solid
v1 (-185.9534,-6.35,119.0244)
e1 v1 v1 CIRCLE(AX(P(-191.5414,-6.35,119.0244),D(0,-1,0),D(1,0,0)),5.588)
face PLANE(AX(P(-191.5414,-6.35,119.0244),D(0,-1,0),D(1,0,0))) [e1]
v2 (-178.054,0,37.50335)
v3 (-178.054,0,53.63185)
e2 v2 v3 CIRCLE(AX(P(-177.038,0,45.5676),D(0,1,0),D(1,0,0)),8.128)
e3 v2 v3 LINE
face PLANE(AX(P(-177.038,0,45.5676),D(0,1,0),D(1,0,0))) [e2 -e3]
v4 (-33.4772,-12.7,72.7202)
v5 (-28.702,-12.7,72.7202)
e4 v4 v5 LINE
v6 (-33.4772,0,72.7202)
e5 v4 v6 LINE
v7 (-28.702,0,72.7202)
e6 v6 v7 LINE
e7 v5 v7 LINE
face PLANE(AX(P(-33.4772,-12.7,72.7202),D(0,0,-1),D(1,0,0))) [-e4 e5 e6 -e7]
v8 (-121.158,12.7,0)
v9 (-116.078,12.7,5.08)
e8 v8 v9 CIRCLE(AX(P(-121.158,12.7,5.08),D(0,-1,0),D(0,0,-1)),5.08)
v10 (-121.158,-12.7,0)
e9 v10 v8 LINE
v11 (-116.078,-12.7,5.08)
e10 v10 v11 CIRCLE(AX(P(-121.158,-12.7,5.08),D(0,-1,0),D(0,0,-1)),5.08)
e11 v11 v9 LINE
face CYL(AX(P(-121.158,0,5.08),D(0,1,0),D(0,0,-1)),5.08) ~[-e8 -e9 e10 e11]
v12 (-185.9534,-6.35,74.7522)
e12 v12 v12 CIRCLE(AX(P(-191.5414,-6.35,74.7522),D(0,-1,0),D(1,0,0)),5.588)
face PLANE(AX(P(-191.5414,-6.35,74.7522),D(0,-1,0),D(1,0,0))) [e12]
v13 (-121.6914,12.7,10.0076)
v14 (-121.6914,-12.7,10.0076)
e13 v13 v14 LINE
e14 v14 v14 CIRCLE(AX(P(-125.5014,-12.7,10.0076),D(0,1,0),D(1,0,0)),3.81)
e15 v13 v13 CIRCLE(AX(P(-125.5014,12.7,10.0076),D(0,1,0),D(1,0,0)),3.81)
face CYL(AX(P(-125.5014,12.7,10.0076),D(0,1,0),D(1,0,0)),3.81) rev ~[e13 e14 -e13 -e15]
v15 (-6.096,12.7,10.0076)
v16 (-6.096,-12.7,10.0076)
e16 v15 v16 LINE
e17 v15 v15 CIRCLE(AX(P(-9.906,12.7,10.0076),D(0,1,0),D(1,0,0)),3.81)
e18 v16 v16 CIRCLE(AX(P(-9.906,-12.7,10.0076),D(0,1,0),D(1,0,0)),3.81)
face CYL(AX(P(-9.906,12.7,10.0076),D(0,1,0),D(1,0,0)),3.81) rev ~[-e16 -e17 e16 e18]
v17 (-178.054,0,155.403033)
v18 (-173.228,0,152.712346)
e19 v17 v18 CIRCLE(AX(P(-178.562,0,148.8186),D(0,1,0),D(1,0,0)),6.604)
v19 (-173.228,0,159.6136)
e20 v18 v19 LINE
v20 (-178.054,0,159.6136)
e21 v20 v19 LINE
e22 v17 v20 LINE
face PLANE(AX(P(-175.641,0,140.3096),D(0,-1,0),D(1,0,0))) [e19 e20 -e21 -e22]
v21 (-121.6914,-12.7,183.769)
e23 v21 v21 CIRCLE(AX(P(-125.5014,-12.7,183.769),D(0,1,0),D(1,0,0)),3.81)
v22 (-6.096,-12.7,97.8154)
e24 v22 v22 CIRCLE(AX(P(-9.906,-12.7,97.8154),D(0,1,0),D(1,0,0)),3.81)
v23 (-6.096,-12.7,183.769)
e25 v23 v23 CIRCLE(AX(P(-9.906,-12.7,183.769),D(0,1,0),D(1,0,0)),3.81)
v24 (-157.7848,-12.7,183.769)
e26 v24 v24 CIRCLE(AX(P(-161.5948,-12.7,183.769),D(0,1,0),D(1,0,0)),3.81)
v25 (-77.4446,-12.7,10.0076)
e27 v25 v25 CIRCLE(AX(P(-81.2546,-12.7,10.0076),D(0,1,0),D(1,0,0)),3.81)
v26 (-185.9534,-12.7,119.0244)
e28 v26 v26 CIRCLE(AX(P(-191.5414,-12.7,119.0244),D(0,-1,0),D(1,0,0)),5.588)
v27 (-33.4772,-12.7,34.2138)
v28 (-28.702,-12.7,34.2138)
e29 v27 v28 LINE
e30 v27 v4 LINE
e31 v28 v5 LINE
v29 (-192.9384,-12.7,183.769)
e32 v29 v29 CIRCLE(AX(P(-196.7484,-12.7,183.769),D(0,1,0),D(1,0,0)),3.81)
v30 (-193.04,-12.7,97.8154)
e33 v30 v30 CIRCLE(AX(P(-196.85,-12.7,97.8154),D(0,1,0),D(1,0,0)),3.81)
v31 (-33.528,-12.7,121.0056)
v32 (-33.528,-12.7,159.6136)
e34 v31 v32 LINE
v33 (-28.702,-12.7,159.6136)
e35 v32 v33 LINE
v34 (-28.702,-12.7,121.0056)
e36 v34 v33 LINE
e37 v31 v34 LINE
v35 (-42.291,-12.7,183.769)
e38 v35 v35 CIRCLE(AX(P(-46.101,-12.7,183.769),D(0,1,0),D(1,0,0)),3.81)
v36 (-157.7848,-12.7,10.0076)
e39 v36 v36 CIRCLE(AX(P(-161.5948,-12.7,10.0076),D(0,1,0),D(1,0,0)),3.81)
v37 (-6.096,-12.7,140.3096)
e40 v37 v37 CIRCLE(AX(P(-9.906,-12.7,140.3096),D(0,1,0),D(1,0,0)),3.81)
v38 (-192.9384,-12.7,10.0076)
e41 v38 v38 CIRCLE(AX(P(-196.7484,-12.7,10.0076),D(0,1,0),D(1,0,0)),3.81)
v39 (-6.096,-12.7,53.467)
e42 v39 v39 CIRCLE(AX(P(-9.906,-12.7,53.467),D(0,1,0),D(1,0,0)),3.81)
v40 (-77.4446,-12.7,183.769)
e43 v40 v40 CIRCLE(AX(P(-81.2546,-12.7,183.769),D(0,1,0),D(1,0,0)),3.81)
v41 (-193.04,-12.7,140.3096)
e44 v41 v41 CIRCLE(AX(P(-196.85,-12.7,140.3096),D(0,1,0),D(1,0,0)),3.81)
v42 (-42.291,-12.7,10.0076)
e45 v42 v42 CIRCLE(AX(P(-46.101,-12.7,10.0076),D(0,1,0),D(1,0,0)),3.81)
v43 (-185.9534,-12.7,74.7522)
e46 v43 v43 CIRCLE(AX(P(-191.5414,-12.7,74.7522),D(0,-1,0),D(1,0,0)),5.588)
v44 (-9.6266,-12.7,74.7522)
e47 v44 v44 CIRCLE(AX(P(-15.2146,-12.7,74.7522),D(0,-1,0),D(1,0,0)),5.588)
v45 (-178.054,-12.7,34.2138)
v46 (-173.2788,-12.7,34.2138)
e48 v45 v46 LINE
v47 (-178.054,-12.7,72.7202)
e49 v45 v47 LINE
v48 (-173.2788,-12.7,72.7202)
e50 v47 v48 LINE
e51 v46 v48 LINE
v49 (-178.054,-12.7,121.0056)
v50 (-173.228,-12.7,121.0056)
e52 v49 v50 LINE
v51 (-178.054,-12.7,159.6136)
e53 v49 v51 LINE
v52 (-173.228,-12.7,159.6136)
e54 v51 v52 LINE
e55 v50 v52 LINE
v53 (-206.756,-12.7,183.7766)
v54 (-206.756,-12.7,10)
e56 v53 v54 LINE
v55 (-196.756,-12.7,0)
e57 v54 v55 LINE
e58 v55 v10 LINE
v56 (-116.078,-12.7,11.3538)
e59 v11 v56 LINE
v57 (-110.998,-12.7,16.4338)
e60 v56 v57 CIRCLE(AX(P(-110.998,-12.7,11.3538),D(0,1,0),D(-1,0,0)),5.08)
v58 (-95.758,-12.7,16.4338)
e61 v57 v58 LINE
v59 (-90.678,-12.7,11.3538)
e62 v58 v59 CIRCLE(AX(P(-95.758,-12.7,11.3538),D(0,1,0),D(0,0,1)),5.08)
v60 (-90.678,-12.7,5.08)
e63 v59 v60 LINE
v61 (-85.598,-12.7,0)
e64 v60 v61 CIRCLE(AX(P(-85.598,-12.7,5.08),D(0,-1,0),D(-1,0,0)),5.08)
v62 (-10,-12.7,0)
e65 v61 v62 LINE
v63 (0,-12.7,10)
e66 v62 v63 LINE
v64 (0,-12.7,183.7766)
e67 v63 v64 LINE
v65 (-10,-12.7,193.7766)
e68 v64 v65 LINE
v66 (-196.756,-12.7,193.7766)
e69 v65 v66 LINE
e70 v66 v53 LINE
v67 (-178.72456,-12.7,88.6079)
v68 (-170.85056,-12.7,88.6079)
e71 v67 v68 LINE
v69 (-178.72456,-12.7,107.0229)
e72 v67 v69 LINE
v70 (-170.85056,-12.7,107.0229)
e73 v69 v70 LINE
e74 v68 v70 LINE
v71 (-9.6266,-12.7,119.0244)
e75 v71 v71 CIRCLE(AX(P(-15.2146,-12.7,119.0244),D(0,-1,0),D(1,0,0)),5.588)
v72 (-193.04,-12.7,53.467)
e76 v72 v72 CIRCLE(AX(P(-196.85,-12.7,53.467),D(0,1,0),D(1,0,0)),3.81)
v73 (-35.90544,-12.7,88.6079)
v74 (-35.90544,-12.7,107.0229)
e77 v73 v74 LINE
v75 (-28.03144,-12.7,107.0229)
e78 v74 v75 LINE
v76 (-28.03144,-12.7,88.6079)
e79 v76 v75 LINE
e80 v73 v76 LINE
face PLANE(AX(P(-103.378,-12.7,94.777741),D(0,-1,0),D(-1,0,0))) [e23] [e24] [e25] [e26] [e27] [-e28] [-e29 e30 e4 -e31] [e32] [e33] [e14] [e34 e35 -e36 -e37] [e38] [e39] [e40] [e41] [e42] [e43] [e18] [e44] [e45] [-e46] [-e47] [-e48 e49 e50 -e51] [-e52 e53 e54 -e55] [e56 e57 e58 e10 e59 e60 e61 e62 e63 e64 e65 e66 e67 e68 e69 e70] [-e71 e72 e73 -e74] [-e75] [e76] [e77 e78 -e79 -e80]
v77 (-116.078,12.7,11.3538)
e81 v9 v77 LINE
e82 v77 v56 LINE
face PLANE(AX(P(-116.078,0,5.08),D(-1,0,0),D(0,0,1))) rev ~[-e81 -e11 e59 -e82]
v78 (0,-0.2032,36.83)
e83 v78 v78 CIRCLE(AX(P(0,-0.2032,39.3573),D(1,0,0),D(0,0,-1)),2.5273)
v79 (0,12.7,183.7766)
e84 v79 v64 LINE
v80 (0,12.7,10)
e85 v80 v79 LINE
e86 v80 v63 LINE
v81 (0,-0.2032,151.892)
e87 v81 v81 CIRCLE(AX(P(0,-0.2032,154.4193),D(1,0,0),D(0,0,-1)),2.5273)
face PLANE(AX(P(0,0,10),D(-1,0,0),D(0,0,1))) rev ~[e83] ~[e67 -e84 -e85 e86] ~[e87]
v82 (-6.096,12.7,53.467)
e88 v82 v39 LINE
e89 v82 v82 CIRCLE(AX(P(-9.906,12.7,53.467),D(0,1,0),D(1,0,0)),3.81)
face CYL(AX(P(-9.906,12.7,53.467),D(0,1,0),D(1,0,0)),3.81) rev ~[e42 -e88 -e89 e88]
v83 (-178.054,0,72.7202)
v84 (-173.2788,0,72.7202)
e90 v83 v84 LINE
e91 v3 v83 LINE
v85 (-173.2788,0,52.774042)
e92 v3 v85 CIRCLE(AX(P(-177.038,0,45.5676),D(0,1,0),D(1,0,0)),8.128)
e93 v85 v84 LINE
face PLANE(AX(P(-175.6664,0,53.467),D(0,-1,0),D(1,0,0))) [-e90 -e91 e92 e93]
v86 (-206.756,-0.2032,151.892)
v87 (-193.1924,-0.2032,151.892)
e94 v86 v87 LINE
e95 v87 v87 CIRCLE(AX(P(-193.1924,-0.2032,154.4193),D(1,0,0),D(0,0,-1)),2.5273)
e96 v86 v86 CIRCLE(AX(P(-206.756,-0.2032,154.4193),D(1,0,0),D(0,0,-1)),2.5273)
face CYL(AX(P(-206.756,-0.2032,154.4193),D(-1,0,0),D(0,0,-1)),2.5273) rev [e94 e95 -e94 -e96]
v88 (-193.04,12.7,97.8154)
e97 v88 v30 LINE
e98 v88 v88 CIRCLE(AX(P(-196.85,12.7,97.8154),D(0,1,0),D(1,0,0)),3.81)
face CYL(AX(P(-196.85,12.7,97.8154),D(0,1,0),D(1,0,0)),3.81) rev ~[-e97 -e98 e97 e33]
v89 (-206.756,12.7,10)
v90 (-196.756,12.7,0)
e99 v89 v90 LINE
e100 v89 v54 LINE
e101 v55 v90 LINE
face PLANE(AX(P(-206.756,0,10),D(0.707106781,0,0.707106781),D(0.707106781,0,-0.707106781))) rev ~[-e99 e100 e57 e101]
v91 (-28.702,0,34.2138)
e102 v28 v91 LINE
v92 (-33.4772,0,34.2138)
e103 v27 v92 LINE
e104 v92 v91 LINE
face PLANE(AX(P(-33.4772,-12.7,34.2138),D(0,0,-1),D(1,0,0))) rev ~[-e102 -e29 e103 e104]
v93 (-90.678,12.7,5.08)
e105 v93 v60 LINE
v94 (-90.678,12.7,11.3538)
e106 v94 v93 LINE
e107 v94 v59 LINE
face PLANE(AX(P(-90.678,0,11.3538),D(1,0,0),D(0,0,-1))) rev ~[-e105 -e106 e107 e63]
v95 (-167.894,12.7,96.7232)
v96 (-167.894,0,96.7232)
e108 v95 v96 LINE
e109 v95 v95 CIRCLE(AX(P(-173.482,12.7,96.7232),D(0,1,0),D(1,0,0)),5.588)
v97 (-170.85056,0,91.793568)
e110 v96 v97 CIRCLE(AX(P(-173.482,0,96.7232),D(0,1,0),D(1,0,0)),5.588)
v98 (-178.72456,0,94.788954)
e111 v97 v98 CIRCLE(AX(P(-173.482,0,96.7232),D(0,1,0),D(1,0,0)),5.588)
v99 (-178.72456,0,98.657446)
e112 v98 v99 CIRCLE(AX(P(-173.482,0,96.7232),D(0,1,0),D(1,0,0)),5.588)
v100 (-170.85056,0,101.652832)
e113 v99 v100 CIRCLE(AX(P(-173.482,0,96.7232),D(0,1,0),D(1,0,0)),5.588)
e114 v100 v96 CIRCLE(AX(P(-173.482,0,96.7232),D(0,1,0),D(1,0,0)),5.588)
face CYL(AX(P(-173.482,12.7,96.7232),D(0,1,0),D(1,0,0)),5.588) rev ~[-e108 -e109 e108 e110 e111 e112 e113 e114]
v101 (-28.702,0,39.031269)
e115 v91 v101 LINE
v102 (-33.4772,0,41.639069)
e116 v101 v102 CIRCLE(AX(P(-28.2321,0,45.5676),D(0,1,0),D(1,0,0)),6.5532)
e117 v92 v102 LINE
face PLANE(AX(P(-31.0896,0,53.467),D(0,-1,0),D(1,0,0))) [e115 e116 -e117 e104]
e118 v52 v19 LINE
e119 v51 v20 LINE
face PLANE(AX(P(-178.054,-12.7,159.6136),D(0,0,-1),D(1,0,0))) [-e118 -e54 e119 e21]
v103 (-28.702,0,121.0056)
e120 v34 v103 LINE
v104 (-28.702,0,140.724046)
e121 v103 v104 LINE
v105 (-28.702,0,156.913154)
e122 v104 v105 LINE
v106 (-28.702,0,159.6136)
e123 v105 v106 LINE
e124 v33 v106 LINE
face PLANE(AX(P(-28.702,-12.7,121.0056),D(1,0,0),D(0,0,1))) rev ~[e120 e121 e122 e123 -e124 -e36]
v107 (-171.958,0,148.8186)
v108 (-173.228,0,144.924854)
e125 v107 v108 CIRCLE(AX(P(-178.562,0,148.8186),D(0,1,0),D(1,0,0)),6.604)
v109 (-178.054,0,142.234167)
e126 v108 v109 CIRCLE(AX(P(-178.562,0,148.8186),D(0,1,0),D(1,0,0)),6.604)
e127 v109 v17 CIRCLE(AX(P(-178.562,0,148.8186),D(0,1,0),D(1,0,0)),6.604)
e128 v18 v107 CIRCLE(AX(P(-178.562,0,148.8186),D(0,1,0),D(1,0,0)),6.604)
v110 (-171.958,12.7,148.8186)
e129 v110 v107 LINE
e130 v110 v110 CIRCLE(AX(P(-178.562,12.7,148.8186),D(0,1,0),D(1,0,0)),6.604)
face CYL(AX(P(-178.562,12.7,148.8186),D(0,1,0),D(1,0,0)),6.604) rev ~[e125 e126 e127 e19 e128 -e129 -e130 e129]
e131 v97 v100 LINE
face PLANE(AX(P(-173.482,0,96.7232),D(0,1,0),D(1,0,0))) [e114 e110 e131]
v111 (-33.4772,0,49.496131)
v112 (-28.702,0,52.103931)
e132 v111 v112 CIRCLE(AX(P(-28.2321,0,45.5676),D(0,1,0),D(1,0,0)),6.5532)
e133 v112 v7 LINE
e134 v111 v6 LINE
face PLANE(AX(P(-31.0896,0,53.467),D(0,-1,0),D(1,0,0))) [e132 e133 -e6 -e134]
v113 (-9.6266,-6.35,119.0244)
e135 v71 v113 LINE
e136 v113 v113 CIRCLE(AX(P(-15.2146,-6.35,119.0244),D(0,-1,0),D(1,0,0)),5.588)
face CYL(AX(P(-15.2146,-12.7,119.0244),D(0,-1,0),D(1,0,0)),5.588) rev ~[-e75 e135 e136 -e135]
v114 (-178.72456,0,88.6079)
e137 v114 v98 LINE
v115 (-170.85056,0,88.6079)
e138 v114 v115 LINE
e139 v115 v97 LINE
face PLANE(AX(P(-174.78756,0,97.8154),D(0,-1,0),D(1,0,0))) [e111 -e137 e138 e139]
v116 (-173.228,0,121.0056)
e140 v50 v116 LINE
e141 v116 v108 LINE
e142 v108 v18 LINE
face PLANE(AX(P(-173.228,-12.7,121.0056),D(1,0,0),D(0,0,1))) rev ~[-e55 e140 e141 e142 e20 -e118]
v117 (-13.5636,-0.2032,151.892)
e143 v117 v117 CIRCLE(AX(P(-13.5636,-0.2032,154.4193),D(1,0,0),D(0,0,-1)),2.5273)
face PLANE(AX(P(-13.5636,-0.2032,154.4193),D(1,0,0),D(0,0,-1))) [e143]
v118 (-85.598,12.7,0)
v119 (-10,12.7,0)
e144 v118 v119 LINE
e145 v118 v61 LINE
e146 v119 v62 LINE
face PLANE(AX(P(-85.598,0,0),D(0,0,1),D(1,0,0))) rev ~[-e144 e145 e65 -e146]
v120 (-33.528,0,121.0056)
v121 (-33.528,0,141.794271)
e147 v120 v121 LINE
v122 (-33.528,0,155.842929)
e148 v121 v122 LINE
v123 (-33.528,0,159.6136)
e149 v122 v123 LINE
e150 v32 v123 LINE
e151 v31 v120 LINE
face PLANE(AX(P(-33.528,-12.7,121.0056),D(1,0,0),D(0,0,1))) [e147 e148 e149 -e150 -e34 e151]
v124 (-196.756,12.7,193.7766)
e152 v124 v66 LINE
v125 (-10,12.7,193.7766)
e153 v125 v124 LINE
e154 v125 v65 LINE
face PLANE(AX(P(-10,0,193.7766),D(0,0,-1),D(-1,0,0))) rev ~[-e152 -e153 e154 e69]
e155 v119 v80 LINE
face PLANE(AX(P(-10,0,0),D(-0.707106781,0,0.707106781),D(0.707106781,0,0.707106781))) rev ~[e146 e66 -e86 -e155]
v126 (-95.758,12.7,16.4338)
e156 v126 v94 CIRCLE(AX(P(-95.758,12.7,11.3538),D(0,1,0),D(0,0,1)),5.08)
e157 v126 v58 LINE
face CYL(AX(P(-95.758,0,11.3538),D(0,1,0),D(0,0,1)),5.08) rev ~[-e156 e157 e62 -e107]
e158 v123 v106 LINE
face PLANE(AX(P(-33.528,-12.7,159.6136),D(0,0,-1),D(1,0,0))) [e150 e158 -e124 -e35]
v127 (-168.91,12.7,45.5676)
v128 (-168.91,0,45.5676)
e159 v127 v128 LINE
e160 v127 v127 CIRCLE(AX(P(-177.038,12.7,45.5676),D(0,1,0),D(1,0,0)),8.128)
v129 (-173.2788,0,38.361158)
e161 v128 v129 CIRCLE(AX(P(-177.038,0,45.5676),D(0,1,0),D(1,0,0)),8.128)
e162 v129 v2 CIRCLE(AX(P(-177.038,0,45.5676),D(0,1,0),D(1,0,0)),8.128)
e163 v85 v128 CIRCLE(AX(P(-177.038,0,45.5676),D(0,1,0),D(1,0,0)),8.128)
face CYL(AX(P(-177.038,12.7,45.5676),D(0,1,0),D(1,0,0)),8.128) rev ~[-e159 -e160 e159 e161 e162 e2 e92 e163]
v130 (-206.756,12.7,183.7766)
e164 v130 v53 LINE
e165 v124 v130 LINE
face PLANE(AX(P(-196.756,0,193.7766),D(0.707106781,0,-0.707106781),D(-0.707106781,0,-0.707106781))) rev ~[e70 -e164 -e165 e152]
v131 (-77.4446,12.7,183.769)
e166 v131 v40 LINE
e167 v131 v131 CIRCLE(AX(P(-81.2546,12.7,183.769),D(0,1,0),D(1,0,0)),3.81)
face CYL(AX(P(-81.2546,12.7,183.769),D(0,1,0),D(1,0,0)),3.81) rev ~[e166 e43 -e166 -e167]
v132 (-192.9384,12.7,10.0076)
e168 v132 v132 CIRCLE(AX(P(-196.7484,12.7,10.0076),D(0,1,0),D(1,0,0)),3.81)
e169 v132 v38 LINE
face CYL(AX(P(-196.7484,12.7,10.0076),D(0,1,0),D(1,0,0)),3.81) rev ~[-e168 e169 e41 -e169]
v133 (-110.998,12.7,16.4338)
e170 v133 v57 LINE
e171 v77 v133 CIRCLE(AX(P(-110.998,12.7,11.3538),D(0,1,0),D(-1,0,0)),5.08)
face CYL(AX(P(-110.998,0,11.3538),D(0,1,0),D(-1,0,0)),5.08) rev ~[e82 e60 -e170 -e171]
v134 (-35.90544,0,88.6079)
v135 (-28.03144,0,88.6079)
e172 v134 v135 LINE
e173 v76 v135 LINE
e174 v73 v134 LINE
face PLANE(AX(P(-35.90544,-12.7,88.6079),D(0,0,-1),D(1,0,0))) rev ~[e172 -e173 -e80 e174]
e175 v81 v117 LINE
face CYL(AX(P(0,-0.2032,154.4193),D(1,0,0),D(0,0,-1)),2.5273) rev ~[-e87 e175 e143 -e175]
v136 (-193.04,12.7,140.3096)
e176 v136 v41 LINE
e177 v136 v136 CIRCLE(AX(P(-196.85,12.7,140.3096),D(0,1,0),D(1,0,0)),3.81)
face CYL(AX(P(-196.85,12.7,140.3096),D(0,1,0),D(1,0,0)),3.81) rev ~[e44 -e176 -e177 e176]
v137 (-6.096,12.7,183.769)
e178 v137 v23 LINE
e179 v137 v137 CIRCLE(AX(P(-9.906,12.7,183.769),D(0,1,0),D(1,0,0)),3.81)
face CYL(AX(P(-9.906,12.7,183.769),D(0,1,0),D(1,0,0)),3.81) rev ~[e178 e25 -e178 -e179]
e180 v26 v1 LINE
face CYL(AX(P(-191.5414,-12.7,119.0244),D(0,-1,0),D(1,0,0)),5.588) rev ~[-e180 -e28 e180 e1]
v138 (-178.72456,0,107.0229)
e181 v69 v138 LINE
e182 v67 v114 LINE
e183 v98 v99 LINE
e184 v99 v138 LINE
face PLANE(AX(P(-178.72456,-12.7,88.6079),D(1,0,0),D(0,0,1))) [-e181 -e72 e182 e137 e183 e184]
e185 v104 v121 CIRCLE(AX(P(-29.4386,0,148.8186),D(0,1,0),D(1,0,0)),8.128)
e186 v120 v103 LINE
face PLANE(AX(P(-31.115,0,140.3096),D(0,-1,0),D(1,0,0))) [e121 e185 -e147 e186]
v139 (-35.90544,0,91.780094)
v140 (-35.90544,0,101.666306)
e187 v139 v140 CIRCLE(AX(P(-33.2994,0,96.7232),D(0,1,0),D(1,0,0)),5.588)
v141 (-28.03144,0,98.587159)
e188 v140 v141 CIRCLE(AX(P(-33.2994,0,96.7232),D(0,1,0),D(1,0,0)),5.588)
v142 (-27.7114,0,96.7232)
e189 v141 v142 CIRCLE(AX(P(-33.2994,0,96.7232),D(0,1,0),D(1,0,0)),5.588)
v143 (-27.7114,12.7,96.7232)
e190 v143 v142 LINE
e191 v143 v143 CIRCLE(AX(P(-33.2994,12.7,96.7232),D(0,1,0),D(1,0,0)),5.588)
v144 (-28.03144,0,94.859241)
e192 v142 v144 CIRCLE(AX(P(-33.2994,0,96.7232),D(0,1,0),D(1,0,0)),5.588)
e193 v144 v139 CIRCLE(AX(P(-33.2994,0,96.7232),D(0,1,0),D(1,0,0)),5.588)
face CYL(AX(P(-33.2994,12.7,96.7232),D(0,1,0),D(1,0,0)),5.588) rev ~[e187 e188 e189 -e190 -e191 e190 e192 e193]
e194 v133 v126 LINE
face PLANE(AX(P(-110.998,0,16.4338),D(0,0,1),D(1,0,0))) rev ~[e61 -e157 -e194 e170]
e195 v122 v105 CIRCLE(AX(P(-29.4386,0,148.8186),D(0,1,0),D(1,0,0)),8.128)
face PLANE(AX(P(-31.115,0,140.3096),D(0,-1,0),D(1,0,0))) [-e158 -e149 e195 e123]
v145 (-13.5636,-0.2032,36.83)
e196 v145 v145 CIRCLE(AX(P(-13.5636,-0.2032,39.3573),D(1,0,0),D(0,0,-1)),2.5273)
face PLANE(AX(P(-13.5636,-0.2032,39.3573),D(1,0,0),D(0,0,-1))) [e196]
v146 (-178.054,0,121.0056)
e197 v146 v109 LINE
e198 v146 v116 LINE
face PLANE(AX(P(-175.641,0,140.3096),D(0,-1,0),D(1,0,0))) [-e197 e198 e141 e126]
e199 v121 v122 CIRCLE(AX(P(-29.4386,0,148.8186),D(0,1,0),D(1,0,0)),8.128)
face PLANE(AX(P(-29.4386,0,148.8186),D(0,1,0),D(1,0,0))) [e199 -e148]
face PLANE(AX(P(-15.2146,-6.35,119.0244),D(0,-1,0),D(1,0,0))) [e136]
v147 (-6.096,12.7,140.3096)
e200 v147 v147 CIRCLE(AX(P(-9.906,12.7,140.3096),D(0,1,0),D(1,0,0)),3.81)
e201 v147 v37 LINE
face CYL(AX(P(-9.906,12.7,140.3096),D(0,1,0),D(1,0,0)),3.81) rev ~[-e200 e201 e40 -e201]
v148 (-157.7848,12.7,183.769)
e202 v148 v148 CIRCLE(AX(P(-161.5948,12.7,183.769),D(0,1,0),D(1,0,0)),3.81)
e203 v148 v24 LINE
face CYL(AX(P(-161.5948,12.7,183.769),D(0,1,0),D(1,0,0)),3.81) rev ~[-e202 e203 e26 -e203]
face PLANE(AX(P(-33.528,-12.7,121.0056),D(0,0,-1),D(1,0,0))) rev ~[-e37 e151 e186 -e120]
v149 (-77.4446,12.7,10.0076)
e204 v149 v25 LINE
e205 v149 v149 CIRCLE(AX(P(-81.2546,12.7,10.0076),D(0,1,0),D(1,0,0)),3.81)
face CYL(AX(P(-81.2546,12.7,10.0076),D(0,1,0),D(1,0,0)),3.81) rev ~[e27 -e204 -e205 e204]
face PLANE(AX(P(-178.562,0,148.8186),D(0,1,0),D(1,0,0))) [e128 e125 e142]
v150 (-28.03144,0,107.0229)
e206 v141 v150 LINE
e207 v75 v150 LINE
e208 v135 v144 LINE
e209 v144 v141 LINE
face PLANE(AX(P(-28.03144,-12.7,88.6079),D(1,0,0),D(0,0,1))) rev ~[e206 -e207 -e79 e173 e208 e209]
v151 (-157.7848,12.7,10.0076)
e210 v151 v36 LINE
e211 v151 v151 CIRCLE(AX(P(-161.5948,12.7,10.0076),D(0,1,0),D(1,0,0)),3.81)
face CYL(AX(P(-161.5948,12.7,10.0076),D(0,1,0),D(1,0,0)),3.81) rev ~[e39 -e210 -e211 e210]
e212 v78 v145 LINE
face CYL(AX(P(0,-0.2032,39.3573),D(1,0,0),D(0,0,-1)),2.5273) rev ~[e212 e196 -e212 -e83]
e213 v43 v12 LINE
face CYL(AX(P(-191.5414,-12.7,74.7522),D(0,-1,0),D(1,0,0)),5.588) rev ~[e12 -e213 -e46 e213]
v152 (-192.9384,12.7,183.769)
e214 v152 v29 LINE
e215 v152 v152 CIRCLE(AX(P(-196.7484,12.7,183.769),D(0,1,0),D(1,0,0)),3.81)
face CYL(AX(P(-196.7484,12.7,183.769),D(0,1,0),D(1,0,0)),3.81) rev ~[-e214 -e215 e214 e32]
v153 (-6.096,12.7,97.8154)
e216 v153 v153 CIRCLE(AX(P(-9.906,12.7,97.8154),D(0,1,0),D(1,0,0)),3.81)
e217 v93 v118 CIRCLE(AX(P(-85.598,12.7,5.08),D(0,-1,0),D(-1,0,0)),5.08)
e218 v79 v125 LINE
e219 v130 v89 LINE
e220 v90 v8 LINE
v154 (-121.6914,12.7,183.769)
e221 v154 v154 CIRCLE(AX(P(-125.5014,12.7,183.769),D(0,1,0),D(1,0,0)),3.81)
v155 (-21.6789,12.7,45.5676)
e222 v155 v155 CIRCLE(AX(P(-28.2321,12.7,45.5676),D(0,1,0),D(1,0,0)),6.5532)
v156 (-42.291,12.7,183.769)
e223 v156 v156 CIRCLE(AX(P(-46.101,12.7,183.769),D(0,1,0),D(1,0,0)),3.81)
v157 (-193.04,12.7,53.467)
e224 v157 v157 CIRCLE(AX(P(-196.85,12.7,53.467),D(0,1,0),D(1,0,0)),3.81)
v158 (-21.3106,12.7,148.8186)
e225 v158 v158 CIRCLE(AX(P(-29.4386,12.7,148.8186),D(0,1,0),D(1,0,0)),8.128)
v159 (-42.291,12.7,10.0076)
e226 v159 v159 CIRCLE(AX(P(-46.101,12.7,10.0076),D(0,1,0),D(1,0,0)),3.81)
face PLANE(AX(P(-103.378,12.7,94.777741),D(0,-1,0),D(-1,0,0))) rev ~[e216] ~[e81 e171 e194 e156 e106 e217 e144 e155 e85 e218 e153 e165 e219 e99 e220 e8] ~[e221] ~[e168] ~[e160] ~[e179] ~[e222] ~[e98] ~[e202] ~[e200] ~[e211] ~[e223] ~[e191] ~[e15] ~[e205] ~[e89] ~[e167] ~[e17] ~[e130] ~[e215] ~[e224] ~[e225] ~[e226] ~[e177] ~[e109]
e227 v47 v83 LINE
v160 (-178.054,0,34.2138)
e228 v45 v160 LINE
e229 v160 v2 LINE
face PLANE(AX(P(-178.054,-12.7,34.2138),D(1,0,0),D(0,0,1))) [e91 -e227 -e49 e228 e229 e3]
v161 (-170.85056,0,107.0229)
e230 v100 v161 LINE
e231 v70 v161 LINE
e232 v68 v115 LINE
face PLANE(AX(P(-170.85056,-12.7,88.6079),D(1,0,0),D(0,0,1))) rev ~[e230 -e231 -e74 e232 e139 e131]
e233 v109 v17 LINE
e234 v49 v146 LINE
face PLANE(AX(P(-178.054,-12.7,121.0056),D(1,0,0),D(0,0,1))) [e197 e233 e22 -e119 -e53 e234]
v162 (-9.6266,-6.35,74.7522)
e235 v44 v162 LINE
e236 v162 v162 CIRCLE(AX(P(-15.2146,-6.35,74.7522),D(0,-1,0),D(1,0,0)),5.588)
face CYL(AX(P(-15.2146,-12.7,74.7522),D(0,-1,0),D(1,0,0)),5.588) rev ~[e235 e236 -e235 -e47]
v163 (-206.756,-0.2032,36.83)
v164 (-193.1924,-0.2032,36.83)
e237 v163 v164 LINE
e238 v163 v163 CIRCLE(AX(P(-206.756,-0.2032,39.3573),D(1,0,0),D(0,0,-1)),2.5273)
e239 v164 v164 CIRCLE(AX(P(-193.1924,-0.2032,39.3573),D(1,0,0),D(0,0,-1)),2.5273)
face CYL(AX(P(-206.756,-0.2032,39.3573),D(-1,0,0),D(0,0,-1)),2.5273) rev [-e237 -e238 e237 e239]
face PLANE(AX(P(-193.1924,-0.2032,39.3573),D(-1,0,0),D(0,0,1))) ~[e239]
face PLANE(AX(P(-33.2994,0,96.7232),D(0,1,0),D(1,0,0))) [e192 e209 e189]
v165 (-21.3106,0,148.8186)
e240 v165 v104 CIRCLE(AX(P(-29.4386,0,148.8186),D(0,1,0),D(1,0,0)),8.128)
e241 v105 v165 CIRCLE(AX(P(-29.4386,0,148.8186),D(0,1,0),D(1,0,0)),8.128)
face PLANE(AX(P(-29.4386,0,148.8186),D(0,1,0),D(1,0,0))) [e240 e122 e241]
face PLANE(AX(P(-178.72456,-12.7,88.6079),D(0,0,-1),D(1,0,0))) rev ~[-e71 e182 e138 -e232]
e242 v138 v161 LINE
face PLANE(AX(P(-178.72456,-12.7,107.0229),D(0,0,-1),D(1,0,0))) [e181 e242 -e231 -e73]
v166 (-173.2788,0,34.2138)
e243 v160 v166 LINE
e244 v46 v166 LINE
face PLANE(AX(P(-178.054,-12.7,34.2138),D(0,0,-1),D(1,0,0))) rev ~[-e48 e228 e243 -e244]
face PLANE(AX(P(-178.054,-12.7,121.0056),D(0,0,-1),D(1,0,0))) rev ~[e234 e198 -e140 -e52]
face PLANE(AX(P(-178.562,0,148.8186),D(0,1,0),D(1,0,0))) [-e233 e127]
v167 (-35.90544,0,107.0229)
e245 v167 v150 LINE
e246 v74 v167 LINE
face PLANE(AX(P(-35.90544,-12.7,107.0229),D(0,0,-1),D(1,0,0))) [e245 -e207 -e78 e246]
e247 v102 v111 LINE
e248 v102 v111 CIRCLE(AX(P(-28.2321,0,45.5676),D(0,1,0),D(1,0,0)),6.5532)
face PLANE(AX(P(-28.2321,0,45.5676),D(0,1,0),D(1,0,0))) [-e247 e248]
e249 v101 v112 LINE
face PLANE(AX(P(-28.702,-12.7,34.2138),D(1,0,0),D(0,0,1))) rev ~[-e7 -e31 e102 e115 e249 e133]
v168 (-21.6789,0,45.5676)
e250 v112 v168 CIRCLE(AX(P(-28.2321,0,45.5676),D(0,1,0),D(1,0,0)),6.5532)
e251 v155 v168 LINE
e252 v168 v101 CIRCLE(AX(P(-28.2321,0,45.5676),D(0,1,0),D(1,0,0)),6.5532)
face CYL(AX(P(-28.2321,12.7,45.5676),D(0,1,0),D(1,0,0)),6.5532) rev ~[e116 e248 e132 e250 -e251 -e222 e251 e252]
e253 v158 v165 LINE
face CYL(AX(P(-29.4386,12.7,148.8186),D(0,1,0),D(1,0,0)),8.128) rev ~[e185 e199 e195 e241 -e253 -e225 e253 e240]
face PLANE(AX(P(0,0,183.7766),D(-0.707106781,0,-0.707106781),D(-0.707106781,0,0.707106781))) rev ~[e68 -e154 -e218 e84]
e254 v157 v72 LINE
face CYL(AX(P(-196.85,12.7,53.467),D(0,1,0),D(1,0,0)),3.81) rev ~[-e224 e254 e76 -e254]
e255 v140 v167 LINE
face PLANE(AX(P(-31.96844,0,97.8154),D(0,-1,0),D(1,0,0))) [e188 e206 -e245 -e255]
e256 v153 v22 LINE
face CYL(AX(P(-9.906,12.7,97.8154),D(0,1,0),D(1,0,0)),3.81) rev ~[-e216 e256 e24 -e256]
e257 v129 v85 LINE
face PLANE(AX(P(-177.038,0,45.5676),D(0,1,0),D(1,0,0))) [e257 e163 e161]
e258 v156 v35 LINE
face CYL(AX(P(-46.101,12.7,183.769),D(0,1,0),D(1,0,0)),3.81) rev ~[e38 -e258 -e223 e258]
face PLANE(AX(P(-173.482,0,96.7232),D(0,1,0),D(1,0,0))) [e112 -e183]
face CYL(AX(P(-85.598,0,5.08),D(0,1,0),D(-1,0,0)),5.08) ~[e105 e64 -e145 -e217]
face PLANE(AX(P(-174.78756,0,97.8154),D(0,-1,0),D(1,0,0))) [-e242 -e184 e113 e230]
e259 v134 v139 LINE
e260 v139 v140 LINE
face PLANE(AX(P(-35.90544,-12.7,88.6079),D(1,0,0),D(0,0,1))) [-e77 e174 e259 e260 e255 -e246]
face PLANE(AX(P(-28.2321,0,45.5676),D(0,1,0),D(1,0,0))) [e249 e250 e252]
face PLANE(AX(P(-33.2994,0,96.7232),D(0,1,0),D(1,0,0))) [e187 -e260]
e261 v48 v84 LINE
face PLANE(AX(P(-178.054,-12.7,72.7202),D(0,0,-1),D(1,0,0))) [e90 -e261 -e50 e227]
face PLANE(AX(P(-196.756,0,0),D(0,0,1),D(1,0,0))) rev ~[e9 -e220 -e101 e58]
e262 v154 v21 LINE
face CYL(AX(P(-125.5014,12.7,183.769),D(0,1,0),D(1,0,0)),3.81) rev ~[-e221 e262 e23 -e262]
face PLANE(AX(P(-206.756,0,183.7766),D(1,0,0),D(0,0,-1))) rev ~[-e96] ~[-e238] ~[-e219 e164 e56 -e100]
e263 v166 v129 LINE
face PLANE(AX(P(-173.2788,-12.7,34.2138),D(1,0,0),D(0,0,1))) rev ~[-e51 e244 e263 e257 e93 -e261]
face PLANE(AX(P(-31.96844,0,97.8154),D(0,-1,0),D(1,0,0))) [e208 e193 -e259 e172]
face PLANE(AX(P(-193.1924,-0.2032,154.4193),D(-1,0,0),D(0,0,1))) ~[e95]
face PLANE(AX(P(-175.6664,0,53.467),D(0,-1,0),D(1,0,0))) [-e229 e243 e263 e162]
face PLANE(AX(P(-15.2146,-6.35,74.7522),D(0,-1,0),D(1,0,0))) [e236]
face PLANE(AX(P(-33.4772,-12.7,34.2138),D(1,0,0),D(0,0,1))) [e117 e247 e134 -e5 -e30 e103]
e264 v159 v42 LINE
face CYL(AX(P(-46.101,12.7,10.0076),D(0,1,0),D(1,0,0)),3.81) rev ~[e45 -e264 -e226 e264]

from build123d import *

# Parameters (mm, degrees)
BOSS_EXTRUDE1_DEPTH     = 12.7
SKETCH4_R               = 2.5273
CUT_EXTRUDE1_DEPTH      = 13.5636
SKETCH5_R               = 3.81
CUT_EXTRUDE2_DEPTH      = 1
CUT_EXTRUDE2_DEPTH_BACK = 26.4
SKETCH6_R               = 8.128
SKETCH6_R_2             = 5.588
SKETCH6_R_3             = 6.604
SKETCH6_R_4             = 6.5532
CUT_EXTRUDE3_DEPTH      = 12.7
SKETCH7_W               = 4.7752
SKETCH7_H               = 38.5064
SKETCH7_W_2             = 7.874
SKETCH7_H_2             = 18.415
SKETCH7_W_3             = 4.826
SKETCH7_H_3             = 38.608
CUT_EXTRUDE4_DEPTH      = 12.7
SKETCH8_R               = 5.588
CUT_EXTRUDE5_DEPTH      = 6.35


with BuildPart() as part:
    # Sketch1 → Boss-Extrude1 (new body, symmetric)
    with BuildSketch(Plane(origin=(0, 0, 0), x_dir=(1, 0, 0), z_dir=(0, 1, 0))):
        with BuildLine():
            Line((-116.078, -5.08), (-116.078, -11.3538))
            ThreePointArc((-116.078, -11.3538), (-114.590102448, -14.945902448), (-110.998, -16.4338))
            Line((-110.998, -16.4338), (-95.758, -16.4338))
            ThreePointArc((-95.758, -16.4338), (-92.165897552, -14.945902448), (-90.678, -11.3538))
            Line((-90.678, -11.3538), (-90.678, -5.08))
            ThreePointArc((-90.678, -5.08), (-89.190102448, -1.487897552), (-85.598, 0))
            Line((-85.598, 0), (-10, 0))
            Line((-10, 0), (0, -10))
            Line((0, -10), (0, -183.7766))
            Line((0, -183.7766), (-10, -193.7766))
            Line((-10, -193.7766), (-196.756, -193.7766))
            Line((-196.756, -193.7766), (-206.756, -183.7766))
            Line((-206.756, -183.7766), (-206.756, -10))
            Line((-206.756, -10), (-196.756, 0))
            Line((-196.756, 0), (-121.158, 0))
            ThreePointArc((-121.158, 0), (-117.565897552, -1.487897552), (-116.078, -5.08))
        make_face()
    extrude(amount=BOSS_EXTRUDE1_DEPTH, both=True)

    # Sketch4 → Cut-Extrude1 (cut)
    with BuildSketch(Plane(origin=(0, 0, 0), x_dir=(0, 0, -1), z_dir=(1, 0, 0))):
        with Locations((-39.3573, -0.2032)):
            Circle(SKETCH4_R)
        with Locations((-154.4193, -0.2032)):
            Circle(SKETCH4_R)
    cut_extrude1 = extrude(amount=-CUT_EXTRUDE1_DEPTH, mode=Mode.SUBTRACT)

    # Mirror1: Cut-Extrude1 across plane
    add(cut_extrude1.mirror(Plane(origin=(-103.378, 0, 0), x_dir=(0, 0, 1), z_dir=(1, 0, 0))), mode=Mode.SUBTRACT)

    # Sketch5 → Cut-Extrude2 (cut, two sides)
    with BuildSketch(Plane(origin=(0, 12.7, 0), x_dir=(1, 0, 0), z_dir=(0, 1, 0))) as cut_extrude2_sk:
        with Locations((-196.7484, -10.0076)):
            Circle(SKETCH5_R)
        with Locations((-161.5948, -10.0076)):
            Circle(SKETCH5_R)
        with Locations((-125.5014, -10.0076)):
            Circle(SKETCH5_R)
        with Locations((-81.2546, -10.0076)):
            Circle(SKETCH5_R)
        with Locations((-9.906, -183.769)):
            Circle(SKETCH5_R)
        with Locations((-46.101, -183.769)):
            Circle(SKETCH5_R)
        with Locations((-81.2546, -183.769)):
            Circle(SKETCH5_R)
        with Locations((-125.5014, -183.769)):
            Circle(SKETCH5_R)
        with Locations((-161.5948, -183.769)):
            Circle(SKETCH5_R)
        with Locations((-196.7484, -183.769)):
            Circle(SKETCH5_R)
        with Locations((-9.906, -53.467)):
            Circle(SKETCH5_R)
        with Locations((-9.906, -97.8154)):
            Circle(SKETCH5_R)
        with Locations((-9.906, -140.3096)):
            Circle(SKETCH5_R)
        with Locations((-196.85, -53.467)):
            Circle(SKETCH5_R)
        with Locations((-196.85, -97.8154)):
            Circle(SKETCH5_R)
        with Locations((-196.85, -140.3096)):
            Circle(SKETCH5_R)
        with Locations((-46.101, -10.0076)):
            Circle(SKETCH5_R)
        with Locations((-9.906, -10.0076)):
            Circle(SKETCH5_R)
    extrude(amount=CUT_EXTRUDE2_DEPTH, mode=Mode.SUBTRACT)
    extrude(cut_extrude2_sk.sketch, amount=-CUT_EXTRUDE2_DEPTH_BACK, mode=Mode.SUBTRACT)

    # Sketch6 → Cut-Extrude3 (cut)
    with BuildSketch(Plane(origin=(0, 12.7, 0), x_dir=(1, 0, 0), z_dir=(0, 1, 0))):
        with Locations((-177.038, -45.5676)):
            Circle(SKETCH6_R)
        with Locations((-173.482, -96.7232)):
            Circle(SKETCH6_R_2)
        with Locations((-178.562, -148.8186)):
            Circle(SKETCH6_R_3)
        with Locations((-28.2321, -45.5676)):
            Circle(SKETCH6_R_4)
        with Locations((-33.2994, -96.7232)):
            Circle(SKETCH6_R_2)
        with Locations((-29.4386, -148.8186)):
            Circle(SKETCH6_R)
    extrude(amount=-CUT_EXTRUDE3_DEPTH, mode=Mode.SUBTRACT)

    # Sketch7 → Cut-Extrude4 (cut)
    with BuildSketch(Plane.XZ.offset(12.7)):
        with Locations((-175.6664, 53.467)):
            Rectangle(SKETCH7_W, SKETCH7_H)
        with Locations((-174.78756, 97.8154)):
            Rectangle(SKETCH7_W_2, SKETCH7_H_2)
        with Locations((-175.641, 140.3096)):
            Rectangle(SKETCH7_W_3, SKETCH7_H_3)
        with Locations((-31.115, 140.3096)):
            Rectangle(SKETCH7_W_3, SKETCH7_H_3)
        with Locations((-31.0896, 53.467)):
            Rectangle(SKETCH7_W, SKETCH7_H)
        with Locations((-31.96844, 97.8154)):
            Rectangle(SKETCH7_W_2, SKETCH7_H_2)
    extrude(amount=-CUT_EXTRUDE4_DEPTH, mode=Mode.SUBTRACT)

    # Sketch8 → Cut-Extrude5 (cut)
    with BuildSketch(Plane.XZ.offset(12.7)):
        with Locations((-191.5414, 119.0244)):
            Circle(SKETCH8_R)
        with Locations((-191.5414, 74.7522)):
            Circle(SKETCH8_R)
        with Locations((-15.2146, 74.7522)):
            Circle(SKETCH8_R)
        with Locations((-15.2146, 119.0244)):
            Circle(SKETCH8_R)
    extrude(amount=-CUT_EXTRUDE5_DEPTH, mode=Mode.SUBTRACT)


solid = part.part
